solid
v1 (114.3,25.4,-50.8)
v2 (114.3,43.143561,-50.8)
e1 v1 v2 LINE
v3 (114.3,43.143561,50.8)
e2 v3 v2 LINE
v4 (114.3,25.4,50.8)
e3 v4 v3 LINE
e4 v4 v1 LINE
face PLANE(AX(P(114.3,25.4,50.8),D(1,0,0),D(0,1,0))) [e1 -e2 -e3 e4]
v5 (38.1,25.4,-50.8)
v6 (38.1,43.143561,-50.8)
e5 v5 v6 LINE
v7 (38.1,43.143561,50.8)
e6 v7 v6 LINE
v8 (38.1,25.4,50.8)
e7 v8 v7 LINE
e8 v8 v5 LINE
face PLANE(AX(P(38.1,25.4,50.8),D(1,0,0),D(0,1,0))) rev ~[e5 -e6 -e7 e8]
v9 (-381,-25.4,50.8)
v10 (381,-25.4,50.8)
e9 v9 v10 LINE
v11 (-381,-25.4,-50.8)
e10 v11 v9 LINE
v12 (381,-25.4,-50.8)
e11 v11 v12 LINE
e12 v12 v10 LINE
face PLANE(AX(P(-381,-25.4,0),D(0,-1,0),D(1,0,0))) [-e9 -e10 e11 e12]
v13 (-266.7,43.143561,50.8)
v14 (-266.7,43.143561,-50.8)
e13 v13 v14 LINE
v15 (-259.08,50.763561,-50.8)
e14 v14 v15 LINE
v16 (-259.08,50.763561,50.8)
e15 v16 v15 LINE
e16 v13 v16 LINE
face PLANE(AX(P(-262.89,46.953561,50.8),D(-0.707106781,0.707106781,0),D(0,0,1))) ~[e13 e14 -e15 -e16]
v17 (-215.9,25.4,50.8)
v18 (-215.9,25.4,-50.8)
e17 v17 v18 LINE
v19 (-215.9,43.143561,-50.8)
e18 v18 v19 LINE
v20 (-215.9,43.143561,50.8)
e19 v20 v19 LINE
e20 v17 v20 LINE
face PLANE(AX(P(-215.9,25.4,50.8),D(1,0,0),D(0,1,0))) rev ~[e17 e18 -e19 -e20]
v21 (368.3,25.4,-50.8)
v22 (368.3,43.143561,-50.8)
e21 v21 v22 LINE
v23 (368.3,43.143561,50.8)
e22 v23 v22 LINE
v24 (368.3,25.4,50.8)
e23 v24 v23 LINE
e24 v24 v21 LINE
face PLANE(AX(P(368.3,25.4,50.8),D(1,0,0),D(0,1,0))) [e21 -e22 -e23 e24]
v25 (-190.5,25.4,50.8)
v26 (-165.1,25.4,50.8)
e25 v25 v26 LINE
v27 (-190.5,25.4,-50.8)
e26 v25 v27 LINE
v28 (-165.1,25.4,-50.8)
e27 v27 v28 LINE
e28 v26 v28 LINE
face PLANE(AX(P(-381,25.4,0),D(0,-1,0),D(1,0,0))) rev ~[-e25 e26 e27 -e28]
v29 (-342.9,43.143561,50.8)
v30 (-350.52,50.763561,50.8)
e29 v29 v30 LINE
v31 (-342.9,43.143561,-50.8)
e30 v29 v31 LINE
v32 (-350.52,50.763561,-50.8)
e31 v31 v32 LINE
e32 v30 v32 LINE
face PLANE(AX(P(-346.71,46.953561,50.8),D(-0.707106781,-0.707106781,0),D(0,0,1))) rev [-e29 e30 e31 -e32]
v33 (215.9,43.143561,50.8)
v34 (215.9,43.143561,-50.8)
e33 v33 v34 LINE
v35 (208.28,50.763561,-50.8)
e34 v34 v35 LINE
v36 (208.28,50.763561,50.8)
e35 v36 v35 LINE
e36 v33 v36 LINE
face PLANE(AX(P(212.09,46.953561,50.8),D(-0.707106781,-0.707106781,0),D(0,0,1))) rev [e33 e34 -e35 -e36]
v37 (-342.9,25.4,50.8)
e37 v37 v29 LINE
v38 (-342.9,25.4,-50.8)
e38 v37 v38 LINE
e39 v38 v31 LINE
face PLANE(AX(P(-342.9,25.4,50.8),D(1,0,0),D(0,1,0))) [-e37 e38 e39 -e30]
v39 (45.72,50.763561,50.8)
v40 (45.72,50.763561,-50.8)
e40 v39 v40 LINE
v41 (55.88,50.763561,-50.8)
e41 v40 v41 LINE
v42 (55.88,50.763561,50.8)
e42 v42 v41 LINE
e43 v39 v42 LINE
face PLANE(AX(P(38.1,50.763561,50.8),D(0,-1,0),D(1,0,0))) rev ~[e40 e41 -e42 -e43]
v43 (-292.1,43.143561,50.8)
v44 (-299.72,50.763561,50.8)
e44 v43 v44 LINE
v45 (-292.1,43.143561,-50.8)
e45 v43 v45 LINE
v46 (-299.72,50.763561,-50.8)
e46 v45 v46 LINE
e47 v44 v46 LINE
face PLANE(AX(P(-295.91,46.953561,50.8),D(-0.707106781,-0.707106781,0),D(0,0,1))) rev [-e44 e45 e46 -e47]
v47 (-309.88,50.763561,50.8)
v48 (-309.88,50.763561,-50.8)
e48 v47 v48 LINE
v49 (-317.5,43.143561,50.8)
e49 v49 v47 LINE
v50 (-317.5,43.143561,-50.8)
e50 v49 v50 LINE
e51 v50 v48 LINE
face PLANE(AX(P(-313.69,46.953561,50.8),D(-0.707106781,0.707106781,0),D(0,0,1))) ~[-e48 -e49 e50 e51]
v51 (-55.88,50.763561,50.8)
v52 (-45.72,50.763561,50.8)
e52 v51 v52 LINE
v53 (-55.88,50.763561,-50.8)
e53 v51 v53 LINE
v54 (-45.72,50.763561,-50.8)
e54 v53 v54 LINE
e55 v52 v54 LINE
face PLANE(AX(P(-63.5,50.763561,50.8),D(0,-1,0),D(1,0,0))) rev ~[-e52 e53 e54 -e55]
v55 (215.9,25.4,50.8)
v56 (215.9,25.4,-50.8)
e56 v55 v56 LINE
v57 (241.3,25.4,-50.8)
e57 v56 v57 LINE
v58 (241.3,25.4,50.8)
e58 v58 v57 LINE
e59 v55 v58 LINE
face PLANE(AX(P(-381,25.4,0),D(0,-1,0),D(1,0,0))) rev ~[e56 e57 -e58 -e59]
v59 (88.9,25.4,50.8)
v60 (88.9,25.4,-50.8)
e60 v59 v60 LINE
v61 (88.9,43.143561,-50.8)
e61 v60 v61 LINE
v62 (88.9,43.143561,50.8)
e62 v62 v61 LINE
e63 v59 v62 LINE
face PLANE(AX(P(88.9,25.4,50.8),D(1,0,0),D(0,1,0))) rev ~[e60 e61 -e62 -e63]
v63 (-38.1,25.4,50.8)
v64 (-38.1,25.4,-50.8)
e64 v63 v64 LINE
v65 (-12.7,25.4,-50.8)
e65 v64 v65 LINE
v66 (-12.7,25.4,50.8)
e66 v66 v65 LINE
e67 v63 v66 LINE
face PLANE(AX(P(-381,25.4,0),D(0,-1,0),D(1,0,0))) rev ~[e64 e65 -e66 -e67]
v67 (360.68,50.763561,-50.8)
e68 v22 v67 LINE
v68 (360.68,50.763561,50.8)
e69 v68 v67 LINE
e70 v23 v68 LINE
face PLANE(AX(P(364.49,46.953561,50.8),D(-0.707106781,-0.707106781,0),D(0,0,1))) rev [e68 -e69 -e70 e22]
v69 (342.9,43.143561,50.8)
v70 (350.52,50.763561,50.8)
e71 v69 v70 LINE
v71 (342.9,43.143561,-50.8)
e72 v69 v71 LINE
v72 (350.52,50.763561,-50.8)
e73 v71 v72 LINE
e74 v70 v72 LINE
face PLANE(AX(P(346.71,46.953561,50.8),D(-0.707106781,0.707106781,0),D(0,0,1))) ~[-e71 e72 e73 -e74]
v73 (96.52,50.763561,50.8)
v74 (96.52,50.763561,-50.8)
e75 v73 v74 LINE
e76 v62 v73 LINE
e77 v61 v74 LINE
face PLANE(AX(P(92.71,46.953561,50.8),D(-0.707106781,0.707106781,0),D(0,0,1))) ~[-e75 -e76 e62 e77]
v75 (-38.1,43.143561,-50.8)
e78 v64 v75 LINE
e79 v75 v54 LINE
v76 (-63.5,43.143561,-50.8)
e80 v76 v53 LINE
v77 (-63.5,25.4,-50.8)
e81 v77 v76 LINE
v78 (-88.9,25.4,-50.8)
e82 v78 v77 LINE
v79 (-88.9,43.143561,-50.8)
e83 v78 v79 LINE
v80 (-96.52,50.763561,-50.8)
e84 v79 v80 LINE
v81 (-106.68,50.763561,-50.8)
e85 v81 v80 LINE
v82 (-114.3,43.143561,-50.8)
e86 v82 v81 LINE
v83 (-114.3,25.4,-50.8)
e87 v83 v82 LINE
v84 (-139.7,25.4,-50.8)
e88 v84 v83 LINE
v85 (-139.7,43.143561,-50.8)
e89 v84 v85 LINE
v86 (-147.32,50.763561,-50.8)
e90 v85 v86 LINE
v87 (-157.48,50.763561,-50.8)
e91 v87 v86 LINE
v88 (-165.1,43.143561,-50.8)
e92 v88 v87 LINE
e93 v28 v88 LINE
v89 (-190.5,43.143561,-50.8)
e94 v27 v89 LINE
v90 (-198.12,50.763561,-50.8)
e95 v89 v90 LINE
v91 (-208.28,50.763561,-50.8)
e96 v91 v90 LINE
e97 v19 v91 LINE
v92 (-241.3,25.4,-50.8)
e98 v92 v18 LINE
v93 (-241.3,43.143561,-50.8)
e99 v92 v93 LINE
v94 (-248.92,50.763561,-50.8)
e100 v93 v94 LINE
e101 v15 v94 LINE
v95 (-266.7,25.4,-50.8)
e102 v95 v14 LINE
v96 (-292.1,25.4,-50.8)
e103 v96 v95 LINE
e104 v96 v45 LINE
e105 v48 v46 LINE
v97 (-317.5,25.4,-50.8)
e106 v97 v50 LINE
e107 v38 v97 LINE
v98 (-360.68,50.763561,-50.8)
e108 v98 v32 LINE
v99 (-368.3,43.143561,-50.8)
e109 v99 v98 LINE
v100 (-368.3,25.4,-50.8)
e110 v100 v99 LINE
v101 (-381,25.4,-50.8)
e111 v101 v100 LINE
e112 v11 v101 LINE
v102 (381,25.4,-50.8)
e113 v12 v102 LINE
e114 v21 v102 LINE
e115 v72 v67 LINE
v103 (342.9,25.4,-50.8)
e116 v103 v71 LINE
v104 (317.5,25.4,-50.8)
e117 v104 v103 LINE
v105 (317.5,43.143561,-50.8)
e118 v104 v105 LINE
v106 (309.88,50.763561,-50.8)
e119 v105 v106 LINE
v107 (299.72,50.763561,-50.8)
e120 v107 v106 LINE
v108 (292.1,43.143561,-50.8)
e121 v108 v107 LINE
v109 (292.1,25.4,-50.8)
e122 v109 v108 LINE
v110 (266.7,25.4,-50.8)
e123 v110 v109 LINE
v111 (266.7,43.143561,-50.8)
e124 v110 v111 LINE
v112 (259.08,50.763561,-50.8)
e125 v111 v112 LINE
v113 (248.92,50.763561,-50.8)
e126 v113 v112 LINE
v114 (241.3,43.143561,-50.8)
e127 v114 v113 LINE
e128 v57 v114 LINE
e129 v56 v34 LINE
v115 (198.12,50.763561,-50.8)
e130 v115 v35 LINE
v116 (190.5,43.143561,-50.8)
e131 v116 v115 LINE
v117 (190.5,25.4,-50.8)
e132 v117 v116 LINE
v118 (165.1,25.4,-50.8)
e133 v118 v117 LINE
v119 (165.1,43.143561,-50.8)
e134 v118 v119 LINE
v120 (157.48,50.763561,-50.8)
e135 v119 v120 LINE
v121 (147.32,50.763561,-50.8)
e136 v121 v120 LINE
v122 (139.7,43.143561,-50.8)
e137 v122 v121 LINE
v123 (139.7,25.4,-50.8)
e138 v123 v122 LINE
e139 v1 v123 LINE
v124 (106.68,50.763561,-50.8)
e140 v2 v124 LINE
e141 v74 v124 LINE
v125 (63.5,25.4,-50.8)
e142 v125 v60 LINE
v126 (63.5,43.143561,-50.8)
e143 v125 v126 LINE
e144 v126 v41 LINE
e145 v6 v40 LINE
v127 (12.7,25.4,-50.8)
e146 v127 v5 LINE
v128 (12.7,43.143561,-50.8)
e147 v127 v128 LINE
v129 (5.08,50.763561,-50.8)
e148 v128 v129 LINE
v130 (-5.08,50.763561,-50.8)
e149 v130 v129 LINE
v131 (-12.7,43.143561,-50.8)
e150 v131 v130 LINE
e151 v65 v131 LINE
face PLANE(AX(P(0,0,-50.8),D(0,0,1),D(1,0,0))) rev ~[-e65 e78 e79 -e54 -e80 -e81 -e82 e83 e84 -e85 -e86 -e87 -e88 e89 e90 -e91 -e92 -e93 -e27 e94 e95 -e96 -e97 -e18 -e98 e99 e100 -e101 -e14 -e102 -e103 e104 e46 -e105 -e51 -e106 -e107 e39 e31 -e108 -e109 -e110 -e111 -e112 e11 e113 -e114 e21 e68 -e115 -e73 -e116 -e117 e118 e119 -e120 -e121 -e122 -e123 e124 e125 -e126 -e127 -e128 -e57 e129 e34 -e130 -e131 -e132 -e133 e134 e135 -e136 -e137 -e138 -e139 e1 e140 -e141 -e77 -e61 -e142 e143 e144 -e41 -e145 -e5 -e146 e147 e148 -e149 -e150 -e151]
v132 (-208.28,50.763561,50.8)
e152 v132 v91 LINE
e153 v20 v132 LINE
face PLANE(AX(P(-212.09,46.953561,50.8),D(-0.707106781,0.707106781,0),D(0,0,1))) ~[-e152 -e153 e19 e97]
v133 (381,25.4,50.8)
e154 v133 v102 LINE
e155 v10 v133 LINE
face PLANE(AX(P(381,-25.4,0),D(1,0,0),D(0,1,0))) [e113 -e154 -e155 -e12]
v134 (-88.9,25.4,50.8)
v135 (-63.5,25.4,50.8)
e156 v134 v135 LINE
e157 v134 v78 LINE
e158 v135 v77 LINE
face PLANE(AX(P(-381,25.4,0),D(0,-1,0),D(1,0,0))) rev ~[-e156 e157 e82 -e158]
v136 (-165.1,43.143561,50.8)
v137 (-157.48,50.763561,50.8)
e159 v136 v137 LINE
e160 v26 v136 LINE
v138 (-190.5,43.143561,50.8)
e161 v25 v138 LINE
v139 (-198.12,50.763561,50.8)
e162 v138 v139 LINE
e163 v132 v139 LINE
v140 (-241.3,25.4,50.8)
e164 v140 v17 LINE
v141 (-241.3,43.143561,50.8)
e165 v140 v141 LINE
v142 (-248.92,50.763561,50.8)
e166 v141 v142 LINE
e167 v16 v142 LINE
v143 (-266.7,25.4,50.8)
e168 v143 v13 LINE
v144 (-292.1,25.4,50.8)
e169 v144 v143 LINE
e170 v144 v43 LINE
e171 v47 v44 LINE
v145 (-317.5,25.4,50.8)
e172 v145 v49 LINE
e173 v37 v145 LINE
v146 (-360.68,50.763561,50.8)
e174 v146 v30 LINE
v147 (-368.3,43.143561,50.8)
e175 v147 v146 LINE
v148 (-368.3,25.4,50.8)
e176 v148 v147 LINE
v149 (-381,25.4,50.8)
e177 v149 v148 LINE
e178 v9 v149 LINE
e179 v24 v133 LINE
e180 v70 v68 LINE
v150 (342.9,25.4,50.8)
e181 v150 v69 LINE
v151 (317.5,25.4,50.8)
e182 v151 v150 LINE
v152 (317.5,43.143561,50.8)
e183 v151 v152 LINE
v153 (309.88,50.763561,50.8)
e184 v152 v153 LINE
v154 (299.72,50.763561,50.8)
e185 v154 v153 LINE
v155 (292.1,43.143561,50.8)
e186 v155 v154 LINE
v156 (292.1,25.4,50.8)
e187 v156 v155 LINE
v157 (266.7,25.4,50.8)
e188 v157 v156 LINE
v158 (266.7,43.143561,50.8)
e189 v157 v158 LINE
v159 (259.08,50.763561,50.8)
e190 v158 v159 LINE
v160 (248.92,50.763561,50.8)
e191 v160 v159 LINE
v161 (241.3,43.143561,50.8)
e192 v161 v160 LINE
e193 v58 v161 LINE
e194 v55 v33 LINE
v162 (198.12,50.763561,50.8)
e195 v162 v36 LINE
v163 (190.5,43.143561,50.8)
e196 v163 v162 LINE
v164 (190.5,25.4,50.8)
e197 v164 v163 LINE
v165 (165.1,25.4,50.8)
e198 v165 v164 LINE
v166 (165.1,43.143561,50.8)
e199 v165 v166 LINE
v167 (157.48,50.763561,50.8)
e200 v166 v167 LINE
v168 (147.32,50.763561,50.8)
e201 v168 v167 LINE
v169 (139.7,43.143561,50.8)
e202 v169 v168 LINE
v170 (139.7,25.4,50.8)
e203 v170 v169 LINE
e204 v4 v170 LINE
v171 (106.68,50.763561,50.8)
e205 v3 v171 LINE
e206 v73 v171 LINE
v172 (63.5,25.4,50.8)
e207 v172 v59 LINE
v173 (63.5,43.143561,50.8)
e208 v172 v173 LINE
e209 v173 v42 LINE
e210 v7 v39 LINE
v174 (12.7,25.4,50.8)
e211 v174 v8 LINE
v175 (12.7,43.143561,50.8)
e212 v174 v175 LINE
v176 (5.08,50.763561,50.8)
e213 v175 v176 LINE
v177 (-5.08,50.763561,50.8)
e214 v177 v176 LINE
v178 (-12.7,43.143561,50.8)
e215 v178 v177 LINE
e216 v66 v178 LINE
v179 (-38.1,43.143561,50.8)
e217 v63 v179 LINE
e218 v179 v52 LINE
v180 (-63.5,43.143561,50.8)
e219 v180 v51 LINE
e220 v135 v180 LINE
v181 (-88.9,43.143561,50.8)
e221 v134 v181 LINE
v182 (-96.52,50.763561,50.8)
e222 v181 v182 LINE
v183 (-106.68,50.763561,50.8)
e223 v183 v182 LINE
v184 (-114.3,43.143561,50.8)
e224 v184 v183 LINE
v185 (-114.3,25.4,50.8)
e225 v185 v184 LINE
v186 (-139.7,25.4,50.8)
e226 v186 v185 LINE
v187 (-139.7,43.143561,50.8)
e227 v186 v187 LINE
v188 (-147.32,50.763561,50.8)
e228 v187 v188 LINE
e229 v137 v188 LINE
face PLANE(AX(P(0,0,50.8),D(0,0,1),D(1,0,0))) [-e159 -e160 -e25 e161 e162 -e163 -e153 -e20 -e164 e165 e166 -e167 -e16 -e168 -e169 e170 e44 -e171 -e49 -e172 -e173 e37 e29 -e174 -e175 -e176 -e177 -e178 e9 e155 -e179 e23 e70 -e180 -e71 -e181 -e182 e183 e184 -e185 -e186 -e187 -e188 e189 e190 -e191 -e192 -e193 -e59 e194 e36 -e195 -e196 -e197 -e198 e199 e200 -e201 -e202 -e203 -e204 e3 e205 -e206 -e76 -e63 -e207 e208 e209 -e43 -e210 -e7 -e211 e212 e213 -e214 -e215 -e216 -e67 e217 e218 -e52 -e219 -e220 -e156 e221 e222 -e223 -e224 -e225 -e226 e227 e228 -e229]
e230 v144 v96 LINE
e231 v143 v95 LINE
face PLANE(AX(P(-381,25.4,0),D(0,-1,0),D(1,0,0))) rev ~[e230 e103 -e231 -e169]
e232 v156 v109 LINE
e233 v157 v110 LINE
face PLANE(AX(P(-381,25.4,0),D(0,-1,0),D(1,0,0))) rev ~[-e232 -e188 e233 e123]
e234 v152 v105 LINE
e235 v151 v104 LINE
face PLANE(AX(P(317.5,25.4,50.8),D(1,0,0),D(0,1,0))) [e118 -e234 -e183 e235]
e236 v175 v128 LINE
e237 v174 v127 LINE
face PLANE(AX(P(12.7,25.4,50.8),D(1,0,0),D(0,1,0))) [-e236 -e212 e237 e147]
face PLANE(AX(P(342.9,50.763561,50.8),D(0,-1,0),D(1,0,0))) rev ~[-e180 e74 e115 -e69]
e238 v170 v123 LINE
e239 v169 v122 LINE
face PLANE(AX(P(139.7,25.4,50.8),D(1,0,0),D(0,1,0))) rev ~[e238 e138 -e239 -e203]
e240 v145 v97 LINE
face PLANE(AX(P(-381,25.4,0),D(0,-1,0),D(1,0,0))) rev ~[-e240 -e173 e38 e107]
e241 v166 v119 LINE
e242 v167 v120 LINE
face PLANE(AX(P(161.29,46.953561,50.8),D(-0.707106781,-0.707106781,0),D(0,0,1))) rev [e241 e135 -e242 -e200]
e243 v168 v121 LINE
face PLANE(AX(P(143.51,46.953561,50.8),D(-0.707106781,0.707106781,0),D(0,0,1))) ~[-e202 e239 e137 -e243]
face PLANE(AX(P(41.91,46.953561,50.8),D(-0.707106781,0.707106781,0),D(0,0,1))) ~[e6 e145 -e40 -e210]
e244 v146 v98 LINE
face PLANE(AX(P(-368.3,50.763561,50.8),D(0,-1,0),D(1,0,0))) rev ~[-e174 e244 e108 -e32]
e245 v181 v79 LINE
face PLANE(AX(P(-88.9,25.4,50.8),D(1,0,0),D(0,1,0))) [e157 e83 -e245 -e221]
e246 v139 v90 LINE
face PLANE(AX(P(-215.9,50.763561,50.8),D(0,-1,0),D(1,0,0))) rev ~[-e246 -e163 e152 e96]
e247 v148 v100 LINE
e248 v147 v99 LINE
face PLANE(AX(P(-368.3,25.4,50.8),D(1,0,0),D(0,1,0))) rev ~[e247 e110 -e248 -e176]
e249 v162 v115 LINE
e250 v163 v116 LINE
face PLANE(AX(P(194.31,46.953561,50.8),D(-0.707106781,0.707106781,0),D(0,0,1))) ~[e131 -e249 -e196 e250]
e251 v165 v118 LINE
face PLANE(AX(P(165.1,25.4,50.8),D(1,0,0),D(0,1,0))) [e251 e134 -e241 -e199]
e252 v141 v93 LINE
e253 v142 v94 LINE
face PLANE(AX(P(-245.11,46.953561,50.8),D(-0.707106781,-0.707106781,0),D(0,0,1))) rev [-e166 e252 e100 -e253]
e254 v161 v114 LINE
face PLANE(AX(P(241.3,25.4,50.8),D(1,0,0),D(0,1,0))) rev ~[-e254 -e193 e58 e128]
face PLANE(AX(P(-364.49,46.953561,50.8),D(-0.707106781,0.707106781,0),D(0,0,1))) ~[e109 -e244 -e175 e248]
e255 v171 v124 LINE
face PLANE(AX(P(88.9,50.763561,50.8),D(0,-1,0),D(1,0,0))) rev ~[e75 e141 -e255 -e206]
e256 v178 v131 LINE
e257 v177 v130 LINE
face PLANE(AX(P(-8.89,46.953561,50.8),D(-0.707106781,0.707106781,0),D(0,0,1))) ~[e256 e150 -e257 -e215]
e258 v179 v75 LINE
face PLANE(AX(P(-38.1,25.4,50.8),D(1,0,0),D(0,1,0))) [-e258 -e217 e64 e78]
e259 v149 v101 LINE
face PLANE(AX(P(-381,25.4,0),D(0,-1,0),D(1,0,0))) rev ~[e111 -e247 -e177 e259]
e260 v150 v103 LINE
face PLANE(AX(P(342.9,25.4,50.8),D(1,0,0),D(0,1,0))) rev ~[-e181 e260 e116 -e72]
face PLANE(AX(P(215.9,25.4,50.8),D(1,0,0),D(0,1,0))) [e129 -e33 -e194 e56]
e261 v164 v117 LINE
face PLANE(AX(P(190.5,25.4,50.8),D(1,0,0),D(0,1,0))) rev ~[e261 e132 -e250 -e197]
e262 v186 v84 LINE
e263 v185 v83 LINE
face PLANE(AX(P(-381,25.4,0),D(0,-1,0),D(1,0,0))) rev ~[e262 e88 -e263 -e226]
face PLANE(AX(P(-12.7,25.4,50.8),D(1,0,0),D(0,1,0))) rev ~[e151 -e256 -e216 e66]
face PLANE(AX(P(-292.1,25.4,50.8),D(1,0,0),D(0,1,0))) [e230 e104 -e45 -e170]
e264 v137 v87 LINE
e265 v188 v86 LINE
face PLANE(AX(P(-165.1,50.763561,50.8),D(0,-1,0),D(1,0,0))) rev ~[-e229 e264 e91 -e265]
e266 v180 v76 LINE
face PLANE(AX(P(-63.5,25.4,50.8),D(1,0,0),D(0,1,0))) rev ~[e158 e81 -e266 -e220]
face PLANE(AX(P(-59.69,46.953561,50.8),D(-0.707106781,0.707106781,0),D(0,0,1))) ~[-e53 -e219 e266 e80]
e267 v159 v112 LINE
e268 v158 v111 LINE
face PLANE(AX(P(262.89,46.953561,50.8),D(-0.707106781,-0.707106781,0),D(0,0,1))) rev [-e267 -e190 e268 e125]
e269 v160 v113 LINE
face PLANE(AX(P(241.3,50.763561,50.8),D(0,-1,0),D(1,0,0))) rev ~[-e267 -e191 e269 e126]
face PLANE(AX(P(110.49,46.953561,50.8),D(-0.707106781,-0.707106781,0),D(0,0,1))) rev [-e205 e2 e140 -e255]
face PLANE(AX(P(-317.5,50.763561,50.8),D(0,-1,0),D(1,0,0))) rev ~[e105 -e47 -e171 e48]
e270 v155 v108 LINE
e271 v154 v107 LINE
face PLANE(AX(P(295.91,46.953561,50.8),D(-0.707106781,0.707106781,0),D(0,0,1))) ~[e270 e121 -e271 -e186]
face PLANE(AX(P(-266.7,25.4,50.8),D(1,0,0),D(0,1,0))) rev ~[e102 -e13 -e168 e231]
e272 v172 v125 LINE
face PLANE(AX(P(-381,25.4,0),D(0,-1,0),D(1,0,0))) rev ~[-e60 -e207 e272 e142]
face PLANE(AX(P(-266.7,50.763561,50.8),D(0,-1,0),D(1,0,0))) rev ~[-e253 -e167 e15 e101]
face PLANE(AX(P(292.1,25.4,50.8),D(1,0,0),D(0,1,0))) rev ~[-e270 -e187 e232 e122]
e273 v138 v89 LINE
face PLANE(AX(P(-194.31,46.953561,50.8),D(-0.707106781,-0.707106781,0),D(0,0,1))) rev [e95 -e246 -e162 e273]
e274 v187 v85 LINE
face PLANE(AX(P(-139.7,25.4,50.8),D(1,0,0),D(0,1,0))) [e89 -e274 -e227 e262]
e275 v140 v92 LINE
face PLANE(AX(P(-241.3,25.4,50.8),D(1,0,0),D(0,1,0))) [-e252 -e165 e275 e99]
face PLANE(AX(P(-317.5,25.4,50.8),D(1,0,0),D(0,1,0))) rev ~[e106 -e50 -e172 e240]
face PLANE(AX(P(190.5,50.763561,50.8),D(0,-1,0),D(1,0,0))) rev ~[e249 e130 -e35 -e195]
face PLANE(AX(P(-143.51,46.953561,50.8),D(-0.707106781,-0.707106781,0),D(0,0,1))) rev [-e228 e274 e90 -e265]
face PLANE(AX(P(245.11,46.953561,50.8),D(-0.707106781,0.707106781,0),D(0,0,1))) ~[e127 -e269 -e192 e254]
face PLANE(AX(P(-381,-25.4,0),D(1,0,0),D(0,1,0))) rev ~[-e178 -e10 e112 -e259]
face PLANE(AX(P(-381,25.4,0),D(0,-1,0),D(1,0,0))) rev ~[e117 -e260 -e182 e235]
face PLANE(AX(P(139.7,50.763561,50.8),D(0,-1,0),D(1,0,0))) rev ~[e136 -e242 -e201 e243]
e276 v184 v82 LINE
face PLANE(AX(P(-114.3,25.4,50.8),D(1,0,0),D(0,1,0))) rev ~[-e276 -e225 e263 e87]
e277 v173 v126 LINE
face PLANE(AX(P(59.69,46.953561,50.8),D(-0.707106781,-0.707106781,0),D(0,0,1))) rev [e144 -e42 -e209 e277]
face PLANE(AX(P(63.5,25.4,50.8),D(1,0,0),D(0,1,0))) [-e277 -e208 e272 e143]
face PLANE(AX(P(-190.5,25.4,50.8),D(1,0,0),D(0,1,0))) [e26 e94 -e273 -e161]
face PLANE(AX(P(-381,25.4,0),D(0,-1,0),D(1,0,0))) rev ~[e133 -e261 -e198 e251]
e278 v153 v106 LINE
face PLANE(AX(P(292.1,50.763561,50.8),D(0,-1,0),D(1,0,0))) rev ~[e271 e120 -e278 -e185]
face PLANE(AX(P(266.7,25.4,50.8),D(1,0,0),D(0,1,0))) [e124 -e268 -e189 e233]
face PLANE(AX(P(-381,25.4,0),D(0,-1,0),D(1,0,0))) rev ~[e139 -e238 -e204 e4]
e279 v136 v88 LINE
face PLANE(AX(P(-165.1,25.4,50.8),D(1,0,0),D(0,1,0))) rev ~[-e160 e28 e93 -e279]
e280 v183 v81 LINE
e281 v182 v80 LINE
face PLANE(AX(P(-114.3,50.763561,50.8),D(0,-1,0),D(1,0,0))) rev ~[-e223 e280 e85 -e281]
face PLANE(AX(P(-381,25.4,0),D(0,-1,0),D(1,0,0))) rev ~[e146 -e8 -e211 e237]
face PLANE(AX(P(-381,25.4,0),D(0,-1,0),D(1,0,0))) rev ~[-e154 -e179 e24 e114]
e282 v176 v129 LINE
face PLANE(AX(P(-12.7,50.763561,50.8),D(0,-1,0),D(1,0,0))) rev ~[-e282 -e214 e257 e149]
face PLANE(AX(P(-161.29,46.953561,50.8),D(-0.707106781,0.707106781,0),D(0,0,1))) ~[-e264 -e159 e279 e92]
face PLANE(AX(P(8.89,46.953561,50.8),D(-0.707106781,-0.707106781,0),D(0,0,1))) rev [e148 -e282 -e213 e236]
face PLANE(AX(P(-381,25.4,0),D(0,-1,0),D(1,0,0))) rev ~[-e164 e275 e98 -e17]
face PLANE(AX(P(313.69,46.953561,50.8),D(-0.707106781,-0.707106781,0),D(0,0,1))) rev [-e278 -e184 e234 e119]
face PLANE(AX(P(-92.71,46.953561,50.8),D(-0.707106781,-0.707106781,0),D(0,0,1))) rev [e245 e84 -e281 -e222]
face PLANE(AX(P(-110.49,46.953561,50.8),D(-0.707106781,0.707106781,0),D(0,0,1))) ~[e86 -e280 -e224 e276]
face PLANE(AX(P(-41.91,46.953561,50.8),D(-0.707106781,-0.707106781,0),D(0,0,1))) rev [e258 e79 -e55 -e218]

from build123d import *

# Parameters (mm, degrees)
SKETCH1_W           = 762
SKETCH1_H           = 50.8
BOSS_EXTRUDE1_DEPTH = 50.8
SKETCH2_W           = 25.4
SKETCH2_H           = 25.363561455
BOSS_EXTRUDE2_DEPTH = 101.6
CHAMFER1_SIZE       = 7.62


with BuildPart() as part:
    # Sketch1 → Boss-Extrude1 (new body, symmetric)
    with BuildSketch(Plane.XY):
        Rectangle(SKETCH1_W, SKETCH1_H)
    extrude(amount=BOSS_EXTRUDE1_DEPTH, both=True)

    # Sketch2 → Boss-Extrude2 (add, through all)
    with BuildSketch(Plane.XY.offset(50.8)):
        with Locations((-254, 38.081780728)):
            Rectangle(SKETCH2_W, SKETCH2_H)
        with Locations((355.6, 38.081780728)):
            Rectangle(SKETCH2_W, SKETCH2_H)
        with Locations((0, 38.081780728)):
            Rectangle(SKETCH2_W, SKETCH2_H)
        with Locations((50.8, 38.081780728)):
            Rectangle(SKETCH2_W, SKETCH2_H)
        with Locations((101.6, 38.081780728)):
            Rectangle(SKETCH2_W, SKETCH2_H)
        with Locations((152.4, 38.081780728)):
            Rectangle(SKETCH2_W, SKETCH2_H)
        with Locations((203.2, 38.081780728)):
            Rectangle(SKETCH2_W, SKETCH2_H)
        with Locations((254, 38.081780728)):
            Rectangle(SKETCH2_W, SKETCH2_H)
        with Locations((304.8, 38.081780728)):
            Rectangle(SKETCH2_W, SKETCH2_H)
        with Locations((-50.8, 38.081780728)):
            Rectangle(SKETCH2_W, SKETCH2_H)
        with Locations((-101.6, 38.081780728)):
            Rectangle(SKETCH2_W, SKETCH2_H)
        with Locations((-152.4, 38.081780728)):
            Rectangle(SKETCH2_W, SKETCH2_H)
        with Locations((-203.2, 38.081780728)):
            Rectangle(SKETCH2_W, SKETCH2_H)
        with Locations((-304.8, 38.081780728)):
            Rectangle(SKETCH2_W, SKETCH2_H)
        with Locations((-355.6, 38.081780728)):
            Rectangle(SKETCH2_W, SKETCH2_H)
    extrude(amount=-BOSS_EXTRUDE2_DEPTH)

    # Chamfer1
    chamfer1_edges = [part.edges().sort_by_distance(p)[0] for p in [
        (-368.3, 50.763561455, 0),
        (-317.5, 50.763561455, 0),
        (-266.7, 50.763561455, 0),
        (-215.9, 50.763561455, 0),
        (-165.1, 50.763561455, 0),
        (-114.3, 50.763561455, 0),
        (-63.5, 50.763561455, 0),
        (-12.7, 50.763561455, 0),
        (38.1, 50.763561455, 0),
        (88.9, 50.763561455, 0),
        (139.7, 50.763561455, 0),
        (190.5, 50.763561455, 0),
        (241.3, 50.763561455, 0),
        (292.1, 50.763561455, 0),
        (342.9, 50.763561455, 0),
        (368.3, 50.763561455, 0),
        (317.5, 50.763561455, 0),
        (266.7, 50.763561455, 0),
        (215.9, 50.763561455, 0),
        (165.1, 50.763561455, 0),
        (114.3, 50.763561455, 0),
        (63.5, 50.763561455, 0),
        (12.7, 50.763561455, 0),
        (-38.1, 50.763561455, 0),
        (-88.9, 50.763561455, 0),
        (-139.7, 50.763561455, 0),
        (-190.5, 50.763561455, 0),
        (-241.3, 50.763561455, 0),
        (-342.9, 50.763561455, 0),
        (-292.1, 50.763561455, 0),
    ]]
    chamfer(chamfer1_edges, length=CHAMFER1_SIZE)


solid = part.part
